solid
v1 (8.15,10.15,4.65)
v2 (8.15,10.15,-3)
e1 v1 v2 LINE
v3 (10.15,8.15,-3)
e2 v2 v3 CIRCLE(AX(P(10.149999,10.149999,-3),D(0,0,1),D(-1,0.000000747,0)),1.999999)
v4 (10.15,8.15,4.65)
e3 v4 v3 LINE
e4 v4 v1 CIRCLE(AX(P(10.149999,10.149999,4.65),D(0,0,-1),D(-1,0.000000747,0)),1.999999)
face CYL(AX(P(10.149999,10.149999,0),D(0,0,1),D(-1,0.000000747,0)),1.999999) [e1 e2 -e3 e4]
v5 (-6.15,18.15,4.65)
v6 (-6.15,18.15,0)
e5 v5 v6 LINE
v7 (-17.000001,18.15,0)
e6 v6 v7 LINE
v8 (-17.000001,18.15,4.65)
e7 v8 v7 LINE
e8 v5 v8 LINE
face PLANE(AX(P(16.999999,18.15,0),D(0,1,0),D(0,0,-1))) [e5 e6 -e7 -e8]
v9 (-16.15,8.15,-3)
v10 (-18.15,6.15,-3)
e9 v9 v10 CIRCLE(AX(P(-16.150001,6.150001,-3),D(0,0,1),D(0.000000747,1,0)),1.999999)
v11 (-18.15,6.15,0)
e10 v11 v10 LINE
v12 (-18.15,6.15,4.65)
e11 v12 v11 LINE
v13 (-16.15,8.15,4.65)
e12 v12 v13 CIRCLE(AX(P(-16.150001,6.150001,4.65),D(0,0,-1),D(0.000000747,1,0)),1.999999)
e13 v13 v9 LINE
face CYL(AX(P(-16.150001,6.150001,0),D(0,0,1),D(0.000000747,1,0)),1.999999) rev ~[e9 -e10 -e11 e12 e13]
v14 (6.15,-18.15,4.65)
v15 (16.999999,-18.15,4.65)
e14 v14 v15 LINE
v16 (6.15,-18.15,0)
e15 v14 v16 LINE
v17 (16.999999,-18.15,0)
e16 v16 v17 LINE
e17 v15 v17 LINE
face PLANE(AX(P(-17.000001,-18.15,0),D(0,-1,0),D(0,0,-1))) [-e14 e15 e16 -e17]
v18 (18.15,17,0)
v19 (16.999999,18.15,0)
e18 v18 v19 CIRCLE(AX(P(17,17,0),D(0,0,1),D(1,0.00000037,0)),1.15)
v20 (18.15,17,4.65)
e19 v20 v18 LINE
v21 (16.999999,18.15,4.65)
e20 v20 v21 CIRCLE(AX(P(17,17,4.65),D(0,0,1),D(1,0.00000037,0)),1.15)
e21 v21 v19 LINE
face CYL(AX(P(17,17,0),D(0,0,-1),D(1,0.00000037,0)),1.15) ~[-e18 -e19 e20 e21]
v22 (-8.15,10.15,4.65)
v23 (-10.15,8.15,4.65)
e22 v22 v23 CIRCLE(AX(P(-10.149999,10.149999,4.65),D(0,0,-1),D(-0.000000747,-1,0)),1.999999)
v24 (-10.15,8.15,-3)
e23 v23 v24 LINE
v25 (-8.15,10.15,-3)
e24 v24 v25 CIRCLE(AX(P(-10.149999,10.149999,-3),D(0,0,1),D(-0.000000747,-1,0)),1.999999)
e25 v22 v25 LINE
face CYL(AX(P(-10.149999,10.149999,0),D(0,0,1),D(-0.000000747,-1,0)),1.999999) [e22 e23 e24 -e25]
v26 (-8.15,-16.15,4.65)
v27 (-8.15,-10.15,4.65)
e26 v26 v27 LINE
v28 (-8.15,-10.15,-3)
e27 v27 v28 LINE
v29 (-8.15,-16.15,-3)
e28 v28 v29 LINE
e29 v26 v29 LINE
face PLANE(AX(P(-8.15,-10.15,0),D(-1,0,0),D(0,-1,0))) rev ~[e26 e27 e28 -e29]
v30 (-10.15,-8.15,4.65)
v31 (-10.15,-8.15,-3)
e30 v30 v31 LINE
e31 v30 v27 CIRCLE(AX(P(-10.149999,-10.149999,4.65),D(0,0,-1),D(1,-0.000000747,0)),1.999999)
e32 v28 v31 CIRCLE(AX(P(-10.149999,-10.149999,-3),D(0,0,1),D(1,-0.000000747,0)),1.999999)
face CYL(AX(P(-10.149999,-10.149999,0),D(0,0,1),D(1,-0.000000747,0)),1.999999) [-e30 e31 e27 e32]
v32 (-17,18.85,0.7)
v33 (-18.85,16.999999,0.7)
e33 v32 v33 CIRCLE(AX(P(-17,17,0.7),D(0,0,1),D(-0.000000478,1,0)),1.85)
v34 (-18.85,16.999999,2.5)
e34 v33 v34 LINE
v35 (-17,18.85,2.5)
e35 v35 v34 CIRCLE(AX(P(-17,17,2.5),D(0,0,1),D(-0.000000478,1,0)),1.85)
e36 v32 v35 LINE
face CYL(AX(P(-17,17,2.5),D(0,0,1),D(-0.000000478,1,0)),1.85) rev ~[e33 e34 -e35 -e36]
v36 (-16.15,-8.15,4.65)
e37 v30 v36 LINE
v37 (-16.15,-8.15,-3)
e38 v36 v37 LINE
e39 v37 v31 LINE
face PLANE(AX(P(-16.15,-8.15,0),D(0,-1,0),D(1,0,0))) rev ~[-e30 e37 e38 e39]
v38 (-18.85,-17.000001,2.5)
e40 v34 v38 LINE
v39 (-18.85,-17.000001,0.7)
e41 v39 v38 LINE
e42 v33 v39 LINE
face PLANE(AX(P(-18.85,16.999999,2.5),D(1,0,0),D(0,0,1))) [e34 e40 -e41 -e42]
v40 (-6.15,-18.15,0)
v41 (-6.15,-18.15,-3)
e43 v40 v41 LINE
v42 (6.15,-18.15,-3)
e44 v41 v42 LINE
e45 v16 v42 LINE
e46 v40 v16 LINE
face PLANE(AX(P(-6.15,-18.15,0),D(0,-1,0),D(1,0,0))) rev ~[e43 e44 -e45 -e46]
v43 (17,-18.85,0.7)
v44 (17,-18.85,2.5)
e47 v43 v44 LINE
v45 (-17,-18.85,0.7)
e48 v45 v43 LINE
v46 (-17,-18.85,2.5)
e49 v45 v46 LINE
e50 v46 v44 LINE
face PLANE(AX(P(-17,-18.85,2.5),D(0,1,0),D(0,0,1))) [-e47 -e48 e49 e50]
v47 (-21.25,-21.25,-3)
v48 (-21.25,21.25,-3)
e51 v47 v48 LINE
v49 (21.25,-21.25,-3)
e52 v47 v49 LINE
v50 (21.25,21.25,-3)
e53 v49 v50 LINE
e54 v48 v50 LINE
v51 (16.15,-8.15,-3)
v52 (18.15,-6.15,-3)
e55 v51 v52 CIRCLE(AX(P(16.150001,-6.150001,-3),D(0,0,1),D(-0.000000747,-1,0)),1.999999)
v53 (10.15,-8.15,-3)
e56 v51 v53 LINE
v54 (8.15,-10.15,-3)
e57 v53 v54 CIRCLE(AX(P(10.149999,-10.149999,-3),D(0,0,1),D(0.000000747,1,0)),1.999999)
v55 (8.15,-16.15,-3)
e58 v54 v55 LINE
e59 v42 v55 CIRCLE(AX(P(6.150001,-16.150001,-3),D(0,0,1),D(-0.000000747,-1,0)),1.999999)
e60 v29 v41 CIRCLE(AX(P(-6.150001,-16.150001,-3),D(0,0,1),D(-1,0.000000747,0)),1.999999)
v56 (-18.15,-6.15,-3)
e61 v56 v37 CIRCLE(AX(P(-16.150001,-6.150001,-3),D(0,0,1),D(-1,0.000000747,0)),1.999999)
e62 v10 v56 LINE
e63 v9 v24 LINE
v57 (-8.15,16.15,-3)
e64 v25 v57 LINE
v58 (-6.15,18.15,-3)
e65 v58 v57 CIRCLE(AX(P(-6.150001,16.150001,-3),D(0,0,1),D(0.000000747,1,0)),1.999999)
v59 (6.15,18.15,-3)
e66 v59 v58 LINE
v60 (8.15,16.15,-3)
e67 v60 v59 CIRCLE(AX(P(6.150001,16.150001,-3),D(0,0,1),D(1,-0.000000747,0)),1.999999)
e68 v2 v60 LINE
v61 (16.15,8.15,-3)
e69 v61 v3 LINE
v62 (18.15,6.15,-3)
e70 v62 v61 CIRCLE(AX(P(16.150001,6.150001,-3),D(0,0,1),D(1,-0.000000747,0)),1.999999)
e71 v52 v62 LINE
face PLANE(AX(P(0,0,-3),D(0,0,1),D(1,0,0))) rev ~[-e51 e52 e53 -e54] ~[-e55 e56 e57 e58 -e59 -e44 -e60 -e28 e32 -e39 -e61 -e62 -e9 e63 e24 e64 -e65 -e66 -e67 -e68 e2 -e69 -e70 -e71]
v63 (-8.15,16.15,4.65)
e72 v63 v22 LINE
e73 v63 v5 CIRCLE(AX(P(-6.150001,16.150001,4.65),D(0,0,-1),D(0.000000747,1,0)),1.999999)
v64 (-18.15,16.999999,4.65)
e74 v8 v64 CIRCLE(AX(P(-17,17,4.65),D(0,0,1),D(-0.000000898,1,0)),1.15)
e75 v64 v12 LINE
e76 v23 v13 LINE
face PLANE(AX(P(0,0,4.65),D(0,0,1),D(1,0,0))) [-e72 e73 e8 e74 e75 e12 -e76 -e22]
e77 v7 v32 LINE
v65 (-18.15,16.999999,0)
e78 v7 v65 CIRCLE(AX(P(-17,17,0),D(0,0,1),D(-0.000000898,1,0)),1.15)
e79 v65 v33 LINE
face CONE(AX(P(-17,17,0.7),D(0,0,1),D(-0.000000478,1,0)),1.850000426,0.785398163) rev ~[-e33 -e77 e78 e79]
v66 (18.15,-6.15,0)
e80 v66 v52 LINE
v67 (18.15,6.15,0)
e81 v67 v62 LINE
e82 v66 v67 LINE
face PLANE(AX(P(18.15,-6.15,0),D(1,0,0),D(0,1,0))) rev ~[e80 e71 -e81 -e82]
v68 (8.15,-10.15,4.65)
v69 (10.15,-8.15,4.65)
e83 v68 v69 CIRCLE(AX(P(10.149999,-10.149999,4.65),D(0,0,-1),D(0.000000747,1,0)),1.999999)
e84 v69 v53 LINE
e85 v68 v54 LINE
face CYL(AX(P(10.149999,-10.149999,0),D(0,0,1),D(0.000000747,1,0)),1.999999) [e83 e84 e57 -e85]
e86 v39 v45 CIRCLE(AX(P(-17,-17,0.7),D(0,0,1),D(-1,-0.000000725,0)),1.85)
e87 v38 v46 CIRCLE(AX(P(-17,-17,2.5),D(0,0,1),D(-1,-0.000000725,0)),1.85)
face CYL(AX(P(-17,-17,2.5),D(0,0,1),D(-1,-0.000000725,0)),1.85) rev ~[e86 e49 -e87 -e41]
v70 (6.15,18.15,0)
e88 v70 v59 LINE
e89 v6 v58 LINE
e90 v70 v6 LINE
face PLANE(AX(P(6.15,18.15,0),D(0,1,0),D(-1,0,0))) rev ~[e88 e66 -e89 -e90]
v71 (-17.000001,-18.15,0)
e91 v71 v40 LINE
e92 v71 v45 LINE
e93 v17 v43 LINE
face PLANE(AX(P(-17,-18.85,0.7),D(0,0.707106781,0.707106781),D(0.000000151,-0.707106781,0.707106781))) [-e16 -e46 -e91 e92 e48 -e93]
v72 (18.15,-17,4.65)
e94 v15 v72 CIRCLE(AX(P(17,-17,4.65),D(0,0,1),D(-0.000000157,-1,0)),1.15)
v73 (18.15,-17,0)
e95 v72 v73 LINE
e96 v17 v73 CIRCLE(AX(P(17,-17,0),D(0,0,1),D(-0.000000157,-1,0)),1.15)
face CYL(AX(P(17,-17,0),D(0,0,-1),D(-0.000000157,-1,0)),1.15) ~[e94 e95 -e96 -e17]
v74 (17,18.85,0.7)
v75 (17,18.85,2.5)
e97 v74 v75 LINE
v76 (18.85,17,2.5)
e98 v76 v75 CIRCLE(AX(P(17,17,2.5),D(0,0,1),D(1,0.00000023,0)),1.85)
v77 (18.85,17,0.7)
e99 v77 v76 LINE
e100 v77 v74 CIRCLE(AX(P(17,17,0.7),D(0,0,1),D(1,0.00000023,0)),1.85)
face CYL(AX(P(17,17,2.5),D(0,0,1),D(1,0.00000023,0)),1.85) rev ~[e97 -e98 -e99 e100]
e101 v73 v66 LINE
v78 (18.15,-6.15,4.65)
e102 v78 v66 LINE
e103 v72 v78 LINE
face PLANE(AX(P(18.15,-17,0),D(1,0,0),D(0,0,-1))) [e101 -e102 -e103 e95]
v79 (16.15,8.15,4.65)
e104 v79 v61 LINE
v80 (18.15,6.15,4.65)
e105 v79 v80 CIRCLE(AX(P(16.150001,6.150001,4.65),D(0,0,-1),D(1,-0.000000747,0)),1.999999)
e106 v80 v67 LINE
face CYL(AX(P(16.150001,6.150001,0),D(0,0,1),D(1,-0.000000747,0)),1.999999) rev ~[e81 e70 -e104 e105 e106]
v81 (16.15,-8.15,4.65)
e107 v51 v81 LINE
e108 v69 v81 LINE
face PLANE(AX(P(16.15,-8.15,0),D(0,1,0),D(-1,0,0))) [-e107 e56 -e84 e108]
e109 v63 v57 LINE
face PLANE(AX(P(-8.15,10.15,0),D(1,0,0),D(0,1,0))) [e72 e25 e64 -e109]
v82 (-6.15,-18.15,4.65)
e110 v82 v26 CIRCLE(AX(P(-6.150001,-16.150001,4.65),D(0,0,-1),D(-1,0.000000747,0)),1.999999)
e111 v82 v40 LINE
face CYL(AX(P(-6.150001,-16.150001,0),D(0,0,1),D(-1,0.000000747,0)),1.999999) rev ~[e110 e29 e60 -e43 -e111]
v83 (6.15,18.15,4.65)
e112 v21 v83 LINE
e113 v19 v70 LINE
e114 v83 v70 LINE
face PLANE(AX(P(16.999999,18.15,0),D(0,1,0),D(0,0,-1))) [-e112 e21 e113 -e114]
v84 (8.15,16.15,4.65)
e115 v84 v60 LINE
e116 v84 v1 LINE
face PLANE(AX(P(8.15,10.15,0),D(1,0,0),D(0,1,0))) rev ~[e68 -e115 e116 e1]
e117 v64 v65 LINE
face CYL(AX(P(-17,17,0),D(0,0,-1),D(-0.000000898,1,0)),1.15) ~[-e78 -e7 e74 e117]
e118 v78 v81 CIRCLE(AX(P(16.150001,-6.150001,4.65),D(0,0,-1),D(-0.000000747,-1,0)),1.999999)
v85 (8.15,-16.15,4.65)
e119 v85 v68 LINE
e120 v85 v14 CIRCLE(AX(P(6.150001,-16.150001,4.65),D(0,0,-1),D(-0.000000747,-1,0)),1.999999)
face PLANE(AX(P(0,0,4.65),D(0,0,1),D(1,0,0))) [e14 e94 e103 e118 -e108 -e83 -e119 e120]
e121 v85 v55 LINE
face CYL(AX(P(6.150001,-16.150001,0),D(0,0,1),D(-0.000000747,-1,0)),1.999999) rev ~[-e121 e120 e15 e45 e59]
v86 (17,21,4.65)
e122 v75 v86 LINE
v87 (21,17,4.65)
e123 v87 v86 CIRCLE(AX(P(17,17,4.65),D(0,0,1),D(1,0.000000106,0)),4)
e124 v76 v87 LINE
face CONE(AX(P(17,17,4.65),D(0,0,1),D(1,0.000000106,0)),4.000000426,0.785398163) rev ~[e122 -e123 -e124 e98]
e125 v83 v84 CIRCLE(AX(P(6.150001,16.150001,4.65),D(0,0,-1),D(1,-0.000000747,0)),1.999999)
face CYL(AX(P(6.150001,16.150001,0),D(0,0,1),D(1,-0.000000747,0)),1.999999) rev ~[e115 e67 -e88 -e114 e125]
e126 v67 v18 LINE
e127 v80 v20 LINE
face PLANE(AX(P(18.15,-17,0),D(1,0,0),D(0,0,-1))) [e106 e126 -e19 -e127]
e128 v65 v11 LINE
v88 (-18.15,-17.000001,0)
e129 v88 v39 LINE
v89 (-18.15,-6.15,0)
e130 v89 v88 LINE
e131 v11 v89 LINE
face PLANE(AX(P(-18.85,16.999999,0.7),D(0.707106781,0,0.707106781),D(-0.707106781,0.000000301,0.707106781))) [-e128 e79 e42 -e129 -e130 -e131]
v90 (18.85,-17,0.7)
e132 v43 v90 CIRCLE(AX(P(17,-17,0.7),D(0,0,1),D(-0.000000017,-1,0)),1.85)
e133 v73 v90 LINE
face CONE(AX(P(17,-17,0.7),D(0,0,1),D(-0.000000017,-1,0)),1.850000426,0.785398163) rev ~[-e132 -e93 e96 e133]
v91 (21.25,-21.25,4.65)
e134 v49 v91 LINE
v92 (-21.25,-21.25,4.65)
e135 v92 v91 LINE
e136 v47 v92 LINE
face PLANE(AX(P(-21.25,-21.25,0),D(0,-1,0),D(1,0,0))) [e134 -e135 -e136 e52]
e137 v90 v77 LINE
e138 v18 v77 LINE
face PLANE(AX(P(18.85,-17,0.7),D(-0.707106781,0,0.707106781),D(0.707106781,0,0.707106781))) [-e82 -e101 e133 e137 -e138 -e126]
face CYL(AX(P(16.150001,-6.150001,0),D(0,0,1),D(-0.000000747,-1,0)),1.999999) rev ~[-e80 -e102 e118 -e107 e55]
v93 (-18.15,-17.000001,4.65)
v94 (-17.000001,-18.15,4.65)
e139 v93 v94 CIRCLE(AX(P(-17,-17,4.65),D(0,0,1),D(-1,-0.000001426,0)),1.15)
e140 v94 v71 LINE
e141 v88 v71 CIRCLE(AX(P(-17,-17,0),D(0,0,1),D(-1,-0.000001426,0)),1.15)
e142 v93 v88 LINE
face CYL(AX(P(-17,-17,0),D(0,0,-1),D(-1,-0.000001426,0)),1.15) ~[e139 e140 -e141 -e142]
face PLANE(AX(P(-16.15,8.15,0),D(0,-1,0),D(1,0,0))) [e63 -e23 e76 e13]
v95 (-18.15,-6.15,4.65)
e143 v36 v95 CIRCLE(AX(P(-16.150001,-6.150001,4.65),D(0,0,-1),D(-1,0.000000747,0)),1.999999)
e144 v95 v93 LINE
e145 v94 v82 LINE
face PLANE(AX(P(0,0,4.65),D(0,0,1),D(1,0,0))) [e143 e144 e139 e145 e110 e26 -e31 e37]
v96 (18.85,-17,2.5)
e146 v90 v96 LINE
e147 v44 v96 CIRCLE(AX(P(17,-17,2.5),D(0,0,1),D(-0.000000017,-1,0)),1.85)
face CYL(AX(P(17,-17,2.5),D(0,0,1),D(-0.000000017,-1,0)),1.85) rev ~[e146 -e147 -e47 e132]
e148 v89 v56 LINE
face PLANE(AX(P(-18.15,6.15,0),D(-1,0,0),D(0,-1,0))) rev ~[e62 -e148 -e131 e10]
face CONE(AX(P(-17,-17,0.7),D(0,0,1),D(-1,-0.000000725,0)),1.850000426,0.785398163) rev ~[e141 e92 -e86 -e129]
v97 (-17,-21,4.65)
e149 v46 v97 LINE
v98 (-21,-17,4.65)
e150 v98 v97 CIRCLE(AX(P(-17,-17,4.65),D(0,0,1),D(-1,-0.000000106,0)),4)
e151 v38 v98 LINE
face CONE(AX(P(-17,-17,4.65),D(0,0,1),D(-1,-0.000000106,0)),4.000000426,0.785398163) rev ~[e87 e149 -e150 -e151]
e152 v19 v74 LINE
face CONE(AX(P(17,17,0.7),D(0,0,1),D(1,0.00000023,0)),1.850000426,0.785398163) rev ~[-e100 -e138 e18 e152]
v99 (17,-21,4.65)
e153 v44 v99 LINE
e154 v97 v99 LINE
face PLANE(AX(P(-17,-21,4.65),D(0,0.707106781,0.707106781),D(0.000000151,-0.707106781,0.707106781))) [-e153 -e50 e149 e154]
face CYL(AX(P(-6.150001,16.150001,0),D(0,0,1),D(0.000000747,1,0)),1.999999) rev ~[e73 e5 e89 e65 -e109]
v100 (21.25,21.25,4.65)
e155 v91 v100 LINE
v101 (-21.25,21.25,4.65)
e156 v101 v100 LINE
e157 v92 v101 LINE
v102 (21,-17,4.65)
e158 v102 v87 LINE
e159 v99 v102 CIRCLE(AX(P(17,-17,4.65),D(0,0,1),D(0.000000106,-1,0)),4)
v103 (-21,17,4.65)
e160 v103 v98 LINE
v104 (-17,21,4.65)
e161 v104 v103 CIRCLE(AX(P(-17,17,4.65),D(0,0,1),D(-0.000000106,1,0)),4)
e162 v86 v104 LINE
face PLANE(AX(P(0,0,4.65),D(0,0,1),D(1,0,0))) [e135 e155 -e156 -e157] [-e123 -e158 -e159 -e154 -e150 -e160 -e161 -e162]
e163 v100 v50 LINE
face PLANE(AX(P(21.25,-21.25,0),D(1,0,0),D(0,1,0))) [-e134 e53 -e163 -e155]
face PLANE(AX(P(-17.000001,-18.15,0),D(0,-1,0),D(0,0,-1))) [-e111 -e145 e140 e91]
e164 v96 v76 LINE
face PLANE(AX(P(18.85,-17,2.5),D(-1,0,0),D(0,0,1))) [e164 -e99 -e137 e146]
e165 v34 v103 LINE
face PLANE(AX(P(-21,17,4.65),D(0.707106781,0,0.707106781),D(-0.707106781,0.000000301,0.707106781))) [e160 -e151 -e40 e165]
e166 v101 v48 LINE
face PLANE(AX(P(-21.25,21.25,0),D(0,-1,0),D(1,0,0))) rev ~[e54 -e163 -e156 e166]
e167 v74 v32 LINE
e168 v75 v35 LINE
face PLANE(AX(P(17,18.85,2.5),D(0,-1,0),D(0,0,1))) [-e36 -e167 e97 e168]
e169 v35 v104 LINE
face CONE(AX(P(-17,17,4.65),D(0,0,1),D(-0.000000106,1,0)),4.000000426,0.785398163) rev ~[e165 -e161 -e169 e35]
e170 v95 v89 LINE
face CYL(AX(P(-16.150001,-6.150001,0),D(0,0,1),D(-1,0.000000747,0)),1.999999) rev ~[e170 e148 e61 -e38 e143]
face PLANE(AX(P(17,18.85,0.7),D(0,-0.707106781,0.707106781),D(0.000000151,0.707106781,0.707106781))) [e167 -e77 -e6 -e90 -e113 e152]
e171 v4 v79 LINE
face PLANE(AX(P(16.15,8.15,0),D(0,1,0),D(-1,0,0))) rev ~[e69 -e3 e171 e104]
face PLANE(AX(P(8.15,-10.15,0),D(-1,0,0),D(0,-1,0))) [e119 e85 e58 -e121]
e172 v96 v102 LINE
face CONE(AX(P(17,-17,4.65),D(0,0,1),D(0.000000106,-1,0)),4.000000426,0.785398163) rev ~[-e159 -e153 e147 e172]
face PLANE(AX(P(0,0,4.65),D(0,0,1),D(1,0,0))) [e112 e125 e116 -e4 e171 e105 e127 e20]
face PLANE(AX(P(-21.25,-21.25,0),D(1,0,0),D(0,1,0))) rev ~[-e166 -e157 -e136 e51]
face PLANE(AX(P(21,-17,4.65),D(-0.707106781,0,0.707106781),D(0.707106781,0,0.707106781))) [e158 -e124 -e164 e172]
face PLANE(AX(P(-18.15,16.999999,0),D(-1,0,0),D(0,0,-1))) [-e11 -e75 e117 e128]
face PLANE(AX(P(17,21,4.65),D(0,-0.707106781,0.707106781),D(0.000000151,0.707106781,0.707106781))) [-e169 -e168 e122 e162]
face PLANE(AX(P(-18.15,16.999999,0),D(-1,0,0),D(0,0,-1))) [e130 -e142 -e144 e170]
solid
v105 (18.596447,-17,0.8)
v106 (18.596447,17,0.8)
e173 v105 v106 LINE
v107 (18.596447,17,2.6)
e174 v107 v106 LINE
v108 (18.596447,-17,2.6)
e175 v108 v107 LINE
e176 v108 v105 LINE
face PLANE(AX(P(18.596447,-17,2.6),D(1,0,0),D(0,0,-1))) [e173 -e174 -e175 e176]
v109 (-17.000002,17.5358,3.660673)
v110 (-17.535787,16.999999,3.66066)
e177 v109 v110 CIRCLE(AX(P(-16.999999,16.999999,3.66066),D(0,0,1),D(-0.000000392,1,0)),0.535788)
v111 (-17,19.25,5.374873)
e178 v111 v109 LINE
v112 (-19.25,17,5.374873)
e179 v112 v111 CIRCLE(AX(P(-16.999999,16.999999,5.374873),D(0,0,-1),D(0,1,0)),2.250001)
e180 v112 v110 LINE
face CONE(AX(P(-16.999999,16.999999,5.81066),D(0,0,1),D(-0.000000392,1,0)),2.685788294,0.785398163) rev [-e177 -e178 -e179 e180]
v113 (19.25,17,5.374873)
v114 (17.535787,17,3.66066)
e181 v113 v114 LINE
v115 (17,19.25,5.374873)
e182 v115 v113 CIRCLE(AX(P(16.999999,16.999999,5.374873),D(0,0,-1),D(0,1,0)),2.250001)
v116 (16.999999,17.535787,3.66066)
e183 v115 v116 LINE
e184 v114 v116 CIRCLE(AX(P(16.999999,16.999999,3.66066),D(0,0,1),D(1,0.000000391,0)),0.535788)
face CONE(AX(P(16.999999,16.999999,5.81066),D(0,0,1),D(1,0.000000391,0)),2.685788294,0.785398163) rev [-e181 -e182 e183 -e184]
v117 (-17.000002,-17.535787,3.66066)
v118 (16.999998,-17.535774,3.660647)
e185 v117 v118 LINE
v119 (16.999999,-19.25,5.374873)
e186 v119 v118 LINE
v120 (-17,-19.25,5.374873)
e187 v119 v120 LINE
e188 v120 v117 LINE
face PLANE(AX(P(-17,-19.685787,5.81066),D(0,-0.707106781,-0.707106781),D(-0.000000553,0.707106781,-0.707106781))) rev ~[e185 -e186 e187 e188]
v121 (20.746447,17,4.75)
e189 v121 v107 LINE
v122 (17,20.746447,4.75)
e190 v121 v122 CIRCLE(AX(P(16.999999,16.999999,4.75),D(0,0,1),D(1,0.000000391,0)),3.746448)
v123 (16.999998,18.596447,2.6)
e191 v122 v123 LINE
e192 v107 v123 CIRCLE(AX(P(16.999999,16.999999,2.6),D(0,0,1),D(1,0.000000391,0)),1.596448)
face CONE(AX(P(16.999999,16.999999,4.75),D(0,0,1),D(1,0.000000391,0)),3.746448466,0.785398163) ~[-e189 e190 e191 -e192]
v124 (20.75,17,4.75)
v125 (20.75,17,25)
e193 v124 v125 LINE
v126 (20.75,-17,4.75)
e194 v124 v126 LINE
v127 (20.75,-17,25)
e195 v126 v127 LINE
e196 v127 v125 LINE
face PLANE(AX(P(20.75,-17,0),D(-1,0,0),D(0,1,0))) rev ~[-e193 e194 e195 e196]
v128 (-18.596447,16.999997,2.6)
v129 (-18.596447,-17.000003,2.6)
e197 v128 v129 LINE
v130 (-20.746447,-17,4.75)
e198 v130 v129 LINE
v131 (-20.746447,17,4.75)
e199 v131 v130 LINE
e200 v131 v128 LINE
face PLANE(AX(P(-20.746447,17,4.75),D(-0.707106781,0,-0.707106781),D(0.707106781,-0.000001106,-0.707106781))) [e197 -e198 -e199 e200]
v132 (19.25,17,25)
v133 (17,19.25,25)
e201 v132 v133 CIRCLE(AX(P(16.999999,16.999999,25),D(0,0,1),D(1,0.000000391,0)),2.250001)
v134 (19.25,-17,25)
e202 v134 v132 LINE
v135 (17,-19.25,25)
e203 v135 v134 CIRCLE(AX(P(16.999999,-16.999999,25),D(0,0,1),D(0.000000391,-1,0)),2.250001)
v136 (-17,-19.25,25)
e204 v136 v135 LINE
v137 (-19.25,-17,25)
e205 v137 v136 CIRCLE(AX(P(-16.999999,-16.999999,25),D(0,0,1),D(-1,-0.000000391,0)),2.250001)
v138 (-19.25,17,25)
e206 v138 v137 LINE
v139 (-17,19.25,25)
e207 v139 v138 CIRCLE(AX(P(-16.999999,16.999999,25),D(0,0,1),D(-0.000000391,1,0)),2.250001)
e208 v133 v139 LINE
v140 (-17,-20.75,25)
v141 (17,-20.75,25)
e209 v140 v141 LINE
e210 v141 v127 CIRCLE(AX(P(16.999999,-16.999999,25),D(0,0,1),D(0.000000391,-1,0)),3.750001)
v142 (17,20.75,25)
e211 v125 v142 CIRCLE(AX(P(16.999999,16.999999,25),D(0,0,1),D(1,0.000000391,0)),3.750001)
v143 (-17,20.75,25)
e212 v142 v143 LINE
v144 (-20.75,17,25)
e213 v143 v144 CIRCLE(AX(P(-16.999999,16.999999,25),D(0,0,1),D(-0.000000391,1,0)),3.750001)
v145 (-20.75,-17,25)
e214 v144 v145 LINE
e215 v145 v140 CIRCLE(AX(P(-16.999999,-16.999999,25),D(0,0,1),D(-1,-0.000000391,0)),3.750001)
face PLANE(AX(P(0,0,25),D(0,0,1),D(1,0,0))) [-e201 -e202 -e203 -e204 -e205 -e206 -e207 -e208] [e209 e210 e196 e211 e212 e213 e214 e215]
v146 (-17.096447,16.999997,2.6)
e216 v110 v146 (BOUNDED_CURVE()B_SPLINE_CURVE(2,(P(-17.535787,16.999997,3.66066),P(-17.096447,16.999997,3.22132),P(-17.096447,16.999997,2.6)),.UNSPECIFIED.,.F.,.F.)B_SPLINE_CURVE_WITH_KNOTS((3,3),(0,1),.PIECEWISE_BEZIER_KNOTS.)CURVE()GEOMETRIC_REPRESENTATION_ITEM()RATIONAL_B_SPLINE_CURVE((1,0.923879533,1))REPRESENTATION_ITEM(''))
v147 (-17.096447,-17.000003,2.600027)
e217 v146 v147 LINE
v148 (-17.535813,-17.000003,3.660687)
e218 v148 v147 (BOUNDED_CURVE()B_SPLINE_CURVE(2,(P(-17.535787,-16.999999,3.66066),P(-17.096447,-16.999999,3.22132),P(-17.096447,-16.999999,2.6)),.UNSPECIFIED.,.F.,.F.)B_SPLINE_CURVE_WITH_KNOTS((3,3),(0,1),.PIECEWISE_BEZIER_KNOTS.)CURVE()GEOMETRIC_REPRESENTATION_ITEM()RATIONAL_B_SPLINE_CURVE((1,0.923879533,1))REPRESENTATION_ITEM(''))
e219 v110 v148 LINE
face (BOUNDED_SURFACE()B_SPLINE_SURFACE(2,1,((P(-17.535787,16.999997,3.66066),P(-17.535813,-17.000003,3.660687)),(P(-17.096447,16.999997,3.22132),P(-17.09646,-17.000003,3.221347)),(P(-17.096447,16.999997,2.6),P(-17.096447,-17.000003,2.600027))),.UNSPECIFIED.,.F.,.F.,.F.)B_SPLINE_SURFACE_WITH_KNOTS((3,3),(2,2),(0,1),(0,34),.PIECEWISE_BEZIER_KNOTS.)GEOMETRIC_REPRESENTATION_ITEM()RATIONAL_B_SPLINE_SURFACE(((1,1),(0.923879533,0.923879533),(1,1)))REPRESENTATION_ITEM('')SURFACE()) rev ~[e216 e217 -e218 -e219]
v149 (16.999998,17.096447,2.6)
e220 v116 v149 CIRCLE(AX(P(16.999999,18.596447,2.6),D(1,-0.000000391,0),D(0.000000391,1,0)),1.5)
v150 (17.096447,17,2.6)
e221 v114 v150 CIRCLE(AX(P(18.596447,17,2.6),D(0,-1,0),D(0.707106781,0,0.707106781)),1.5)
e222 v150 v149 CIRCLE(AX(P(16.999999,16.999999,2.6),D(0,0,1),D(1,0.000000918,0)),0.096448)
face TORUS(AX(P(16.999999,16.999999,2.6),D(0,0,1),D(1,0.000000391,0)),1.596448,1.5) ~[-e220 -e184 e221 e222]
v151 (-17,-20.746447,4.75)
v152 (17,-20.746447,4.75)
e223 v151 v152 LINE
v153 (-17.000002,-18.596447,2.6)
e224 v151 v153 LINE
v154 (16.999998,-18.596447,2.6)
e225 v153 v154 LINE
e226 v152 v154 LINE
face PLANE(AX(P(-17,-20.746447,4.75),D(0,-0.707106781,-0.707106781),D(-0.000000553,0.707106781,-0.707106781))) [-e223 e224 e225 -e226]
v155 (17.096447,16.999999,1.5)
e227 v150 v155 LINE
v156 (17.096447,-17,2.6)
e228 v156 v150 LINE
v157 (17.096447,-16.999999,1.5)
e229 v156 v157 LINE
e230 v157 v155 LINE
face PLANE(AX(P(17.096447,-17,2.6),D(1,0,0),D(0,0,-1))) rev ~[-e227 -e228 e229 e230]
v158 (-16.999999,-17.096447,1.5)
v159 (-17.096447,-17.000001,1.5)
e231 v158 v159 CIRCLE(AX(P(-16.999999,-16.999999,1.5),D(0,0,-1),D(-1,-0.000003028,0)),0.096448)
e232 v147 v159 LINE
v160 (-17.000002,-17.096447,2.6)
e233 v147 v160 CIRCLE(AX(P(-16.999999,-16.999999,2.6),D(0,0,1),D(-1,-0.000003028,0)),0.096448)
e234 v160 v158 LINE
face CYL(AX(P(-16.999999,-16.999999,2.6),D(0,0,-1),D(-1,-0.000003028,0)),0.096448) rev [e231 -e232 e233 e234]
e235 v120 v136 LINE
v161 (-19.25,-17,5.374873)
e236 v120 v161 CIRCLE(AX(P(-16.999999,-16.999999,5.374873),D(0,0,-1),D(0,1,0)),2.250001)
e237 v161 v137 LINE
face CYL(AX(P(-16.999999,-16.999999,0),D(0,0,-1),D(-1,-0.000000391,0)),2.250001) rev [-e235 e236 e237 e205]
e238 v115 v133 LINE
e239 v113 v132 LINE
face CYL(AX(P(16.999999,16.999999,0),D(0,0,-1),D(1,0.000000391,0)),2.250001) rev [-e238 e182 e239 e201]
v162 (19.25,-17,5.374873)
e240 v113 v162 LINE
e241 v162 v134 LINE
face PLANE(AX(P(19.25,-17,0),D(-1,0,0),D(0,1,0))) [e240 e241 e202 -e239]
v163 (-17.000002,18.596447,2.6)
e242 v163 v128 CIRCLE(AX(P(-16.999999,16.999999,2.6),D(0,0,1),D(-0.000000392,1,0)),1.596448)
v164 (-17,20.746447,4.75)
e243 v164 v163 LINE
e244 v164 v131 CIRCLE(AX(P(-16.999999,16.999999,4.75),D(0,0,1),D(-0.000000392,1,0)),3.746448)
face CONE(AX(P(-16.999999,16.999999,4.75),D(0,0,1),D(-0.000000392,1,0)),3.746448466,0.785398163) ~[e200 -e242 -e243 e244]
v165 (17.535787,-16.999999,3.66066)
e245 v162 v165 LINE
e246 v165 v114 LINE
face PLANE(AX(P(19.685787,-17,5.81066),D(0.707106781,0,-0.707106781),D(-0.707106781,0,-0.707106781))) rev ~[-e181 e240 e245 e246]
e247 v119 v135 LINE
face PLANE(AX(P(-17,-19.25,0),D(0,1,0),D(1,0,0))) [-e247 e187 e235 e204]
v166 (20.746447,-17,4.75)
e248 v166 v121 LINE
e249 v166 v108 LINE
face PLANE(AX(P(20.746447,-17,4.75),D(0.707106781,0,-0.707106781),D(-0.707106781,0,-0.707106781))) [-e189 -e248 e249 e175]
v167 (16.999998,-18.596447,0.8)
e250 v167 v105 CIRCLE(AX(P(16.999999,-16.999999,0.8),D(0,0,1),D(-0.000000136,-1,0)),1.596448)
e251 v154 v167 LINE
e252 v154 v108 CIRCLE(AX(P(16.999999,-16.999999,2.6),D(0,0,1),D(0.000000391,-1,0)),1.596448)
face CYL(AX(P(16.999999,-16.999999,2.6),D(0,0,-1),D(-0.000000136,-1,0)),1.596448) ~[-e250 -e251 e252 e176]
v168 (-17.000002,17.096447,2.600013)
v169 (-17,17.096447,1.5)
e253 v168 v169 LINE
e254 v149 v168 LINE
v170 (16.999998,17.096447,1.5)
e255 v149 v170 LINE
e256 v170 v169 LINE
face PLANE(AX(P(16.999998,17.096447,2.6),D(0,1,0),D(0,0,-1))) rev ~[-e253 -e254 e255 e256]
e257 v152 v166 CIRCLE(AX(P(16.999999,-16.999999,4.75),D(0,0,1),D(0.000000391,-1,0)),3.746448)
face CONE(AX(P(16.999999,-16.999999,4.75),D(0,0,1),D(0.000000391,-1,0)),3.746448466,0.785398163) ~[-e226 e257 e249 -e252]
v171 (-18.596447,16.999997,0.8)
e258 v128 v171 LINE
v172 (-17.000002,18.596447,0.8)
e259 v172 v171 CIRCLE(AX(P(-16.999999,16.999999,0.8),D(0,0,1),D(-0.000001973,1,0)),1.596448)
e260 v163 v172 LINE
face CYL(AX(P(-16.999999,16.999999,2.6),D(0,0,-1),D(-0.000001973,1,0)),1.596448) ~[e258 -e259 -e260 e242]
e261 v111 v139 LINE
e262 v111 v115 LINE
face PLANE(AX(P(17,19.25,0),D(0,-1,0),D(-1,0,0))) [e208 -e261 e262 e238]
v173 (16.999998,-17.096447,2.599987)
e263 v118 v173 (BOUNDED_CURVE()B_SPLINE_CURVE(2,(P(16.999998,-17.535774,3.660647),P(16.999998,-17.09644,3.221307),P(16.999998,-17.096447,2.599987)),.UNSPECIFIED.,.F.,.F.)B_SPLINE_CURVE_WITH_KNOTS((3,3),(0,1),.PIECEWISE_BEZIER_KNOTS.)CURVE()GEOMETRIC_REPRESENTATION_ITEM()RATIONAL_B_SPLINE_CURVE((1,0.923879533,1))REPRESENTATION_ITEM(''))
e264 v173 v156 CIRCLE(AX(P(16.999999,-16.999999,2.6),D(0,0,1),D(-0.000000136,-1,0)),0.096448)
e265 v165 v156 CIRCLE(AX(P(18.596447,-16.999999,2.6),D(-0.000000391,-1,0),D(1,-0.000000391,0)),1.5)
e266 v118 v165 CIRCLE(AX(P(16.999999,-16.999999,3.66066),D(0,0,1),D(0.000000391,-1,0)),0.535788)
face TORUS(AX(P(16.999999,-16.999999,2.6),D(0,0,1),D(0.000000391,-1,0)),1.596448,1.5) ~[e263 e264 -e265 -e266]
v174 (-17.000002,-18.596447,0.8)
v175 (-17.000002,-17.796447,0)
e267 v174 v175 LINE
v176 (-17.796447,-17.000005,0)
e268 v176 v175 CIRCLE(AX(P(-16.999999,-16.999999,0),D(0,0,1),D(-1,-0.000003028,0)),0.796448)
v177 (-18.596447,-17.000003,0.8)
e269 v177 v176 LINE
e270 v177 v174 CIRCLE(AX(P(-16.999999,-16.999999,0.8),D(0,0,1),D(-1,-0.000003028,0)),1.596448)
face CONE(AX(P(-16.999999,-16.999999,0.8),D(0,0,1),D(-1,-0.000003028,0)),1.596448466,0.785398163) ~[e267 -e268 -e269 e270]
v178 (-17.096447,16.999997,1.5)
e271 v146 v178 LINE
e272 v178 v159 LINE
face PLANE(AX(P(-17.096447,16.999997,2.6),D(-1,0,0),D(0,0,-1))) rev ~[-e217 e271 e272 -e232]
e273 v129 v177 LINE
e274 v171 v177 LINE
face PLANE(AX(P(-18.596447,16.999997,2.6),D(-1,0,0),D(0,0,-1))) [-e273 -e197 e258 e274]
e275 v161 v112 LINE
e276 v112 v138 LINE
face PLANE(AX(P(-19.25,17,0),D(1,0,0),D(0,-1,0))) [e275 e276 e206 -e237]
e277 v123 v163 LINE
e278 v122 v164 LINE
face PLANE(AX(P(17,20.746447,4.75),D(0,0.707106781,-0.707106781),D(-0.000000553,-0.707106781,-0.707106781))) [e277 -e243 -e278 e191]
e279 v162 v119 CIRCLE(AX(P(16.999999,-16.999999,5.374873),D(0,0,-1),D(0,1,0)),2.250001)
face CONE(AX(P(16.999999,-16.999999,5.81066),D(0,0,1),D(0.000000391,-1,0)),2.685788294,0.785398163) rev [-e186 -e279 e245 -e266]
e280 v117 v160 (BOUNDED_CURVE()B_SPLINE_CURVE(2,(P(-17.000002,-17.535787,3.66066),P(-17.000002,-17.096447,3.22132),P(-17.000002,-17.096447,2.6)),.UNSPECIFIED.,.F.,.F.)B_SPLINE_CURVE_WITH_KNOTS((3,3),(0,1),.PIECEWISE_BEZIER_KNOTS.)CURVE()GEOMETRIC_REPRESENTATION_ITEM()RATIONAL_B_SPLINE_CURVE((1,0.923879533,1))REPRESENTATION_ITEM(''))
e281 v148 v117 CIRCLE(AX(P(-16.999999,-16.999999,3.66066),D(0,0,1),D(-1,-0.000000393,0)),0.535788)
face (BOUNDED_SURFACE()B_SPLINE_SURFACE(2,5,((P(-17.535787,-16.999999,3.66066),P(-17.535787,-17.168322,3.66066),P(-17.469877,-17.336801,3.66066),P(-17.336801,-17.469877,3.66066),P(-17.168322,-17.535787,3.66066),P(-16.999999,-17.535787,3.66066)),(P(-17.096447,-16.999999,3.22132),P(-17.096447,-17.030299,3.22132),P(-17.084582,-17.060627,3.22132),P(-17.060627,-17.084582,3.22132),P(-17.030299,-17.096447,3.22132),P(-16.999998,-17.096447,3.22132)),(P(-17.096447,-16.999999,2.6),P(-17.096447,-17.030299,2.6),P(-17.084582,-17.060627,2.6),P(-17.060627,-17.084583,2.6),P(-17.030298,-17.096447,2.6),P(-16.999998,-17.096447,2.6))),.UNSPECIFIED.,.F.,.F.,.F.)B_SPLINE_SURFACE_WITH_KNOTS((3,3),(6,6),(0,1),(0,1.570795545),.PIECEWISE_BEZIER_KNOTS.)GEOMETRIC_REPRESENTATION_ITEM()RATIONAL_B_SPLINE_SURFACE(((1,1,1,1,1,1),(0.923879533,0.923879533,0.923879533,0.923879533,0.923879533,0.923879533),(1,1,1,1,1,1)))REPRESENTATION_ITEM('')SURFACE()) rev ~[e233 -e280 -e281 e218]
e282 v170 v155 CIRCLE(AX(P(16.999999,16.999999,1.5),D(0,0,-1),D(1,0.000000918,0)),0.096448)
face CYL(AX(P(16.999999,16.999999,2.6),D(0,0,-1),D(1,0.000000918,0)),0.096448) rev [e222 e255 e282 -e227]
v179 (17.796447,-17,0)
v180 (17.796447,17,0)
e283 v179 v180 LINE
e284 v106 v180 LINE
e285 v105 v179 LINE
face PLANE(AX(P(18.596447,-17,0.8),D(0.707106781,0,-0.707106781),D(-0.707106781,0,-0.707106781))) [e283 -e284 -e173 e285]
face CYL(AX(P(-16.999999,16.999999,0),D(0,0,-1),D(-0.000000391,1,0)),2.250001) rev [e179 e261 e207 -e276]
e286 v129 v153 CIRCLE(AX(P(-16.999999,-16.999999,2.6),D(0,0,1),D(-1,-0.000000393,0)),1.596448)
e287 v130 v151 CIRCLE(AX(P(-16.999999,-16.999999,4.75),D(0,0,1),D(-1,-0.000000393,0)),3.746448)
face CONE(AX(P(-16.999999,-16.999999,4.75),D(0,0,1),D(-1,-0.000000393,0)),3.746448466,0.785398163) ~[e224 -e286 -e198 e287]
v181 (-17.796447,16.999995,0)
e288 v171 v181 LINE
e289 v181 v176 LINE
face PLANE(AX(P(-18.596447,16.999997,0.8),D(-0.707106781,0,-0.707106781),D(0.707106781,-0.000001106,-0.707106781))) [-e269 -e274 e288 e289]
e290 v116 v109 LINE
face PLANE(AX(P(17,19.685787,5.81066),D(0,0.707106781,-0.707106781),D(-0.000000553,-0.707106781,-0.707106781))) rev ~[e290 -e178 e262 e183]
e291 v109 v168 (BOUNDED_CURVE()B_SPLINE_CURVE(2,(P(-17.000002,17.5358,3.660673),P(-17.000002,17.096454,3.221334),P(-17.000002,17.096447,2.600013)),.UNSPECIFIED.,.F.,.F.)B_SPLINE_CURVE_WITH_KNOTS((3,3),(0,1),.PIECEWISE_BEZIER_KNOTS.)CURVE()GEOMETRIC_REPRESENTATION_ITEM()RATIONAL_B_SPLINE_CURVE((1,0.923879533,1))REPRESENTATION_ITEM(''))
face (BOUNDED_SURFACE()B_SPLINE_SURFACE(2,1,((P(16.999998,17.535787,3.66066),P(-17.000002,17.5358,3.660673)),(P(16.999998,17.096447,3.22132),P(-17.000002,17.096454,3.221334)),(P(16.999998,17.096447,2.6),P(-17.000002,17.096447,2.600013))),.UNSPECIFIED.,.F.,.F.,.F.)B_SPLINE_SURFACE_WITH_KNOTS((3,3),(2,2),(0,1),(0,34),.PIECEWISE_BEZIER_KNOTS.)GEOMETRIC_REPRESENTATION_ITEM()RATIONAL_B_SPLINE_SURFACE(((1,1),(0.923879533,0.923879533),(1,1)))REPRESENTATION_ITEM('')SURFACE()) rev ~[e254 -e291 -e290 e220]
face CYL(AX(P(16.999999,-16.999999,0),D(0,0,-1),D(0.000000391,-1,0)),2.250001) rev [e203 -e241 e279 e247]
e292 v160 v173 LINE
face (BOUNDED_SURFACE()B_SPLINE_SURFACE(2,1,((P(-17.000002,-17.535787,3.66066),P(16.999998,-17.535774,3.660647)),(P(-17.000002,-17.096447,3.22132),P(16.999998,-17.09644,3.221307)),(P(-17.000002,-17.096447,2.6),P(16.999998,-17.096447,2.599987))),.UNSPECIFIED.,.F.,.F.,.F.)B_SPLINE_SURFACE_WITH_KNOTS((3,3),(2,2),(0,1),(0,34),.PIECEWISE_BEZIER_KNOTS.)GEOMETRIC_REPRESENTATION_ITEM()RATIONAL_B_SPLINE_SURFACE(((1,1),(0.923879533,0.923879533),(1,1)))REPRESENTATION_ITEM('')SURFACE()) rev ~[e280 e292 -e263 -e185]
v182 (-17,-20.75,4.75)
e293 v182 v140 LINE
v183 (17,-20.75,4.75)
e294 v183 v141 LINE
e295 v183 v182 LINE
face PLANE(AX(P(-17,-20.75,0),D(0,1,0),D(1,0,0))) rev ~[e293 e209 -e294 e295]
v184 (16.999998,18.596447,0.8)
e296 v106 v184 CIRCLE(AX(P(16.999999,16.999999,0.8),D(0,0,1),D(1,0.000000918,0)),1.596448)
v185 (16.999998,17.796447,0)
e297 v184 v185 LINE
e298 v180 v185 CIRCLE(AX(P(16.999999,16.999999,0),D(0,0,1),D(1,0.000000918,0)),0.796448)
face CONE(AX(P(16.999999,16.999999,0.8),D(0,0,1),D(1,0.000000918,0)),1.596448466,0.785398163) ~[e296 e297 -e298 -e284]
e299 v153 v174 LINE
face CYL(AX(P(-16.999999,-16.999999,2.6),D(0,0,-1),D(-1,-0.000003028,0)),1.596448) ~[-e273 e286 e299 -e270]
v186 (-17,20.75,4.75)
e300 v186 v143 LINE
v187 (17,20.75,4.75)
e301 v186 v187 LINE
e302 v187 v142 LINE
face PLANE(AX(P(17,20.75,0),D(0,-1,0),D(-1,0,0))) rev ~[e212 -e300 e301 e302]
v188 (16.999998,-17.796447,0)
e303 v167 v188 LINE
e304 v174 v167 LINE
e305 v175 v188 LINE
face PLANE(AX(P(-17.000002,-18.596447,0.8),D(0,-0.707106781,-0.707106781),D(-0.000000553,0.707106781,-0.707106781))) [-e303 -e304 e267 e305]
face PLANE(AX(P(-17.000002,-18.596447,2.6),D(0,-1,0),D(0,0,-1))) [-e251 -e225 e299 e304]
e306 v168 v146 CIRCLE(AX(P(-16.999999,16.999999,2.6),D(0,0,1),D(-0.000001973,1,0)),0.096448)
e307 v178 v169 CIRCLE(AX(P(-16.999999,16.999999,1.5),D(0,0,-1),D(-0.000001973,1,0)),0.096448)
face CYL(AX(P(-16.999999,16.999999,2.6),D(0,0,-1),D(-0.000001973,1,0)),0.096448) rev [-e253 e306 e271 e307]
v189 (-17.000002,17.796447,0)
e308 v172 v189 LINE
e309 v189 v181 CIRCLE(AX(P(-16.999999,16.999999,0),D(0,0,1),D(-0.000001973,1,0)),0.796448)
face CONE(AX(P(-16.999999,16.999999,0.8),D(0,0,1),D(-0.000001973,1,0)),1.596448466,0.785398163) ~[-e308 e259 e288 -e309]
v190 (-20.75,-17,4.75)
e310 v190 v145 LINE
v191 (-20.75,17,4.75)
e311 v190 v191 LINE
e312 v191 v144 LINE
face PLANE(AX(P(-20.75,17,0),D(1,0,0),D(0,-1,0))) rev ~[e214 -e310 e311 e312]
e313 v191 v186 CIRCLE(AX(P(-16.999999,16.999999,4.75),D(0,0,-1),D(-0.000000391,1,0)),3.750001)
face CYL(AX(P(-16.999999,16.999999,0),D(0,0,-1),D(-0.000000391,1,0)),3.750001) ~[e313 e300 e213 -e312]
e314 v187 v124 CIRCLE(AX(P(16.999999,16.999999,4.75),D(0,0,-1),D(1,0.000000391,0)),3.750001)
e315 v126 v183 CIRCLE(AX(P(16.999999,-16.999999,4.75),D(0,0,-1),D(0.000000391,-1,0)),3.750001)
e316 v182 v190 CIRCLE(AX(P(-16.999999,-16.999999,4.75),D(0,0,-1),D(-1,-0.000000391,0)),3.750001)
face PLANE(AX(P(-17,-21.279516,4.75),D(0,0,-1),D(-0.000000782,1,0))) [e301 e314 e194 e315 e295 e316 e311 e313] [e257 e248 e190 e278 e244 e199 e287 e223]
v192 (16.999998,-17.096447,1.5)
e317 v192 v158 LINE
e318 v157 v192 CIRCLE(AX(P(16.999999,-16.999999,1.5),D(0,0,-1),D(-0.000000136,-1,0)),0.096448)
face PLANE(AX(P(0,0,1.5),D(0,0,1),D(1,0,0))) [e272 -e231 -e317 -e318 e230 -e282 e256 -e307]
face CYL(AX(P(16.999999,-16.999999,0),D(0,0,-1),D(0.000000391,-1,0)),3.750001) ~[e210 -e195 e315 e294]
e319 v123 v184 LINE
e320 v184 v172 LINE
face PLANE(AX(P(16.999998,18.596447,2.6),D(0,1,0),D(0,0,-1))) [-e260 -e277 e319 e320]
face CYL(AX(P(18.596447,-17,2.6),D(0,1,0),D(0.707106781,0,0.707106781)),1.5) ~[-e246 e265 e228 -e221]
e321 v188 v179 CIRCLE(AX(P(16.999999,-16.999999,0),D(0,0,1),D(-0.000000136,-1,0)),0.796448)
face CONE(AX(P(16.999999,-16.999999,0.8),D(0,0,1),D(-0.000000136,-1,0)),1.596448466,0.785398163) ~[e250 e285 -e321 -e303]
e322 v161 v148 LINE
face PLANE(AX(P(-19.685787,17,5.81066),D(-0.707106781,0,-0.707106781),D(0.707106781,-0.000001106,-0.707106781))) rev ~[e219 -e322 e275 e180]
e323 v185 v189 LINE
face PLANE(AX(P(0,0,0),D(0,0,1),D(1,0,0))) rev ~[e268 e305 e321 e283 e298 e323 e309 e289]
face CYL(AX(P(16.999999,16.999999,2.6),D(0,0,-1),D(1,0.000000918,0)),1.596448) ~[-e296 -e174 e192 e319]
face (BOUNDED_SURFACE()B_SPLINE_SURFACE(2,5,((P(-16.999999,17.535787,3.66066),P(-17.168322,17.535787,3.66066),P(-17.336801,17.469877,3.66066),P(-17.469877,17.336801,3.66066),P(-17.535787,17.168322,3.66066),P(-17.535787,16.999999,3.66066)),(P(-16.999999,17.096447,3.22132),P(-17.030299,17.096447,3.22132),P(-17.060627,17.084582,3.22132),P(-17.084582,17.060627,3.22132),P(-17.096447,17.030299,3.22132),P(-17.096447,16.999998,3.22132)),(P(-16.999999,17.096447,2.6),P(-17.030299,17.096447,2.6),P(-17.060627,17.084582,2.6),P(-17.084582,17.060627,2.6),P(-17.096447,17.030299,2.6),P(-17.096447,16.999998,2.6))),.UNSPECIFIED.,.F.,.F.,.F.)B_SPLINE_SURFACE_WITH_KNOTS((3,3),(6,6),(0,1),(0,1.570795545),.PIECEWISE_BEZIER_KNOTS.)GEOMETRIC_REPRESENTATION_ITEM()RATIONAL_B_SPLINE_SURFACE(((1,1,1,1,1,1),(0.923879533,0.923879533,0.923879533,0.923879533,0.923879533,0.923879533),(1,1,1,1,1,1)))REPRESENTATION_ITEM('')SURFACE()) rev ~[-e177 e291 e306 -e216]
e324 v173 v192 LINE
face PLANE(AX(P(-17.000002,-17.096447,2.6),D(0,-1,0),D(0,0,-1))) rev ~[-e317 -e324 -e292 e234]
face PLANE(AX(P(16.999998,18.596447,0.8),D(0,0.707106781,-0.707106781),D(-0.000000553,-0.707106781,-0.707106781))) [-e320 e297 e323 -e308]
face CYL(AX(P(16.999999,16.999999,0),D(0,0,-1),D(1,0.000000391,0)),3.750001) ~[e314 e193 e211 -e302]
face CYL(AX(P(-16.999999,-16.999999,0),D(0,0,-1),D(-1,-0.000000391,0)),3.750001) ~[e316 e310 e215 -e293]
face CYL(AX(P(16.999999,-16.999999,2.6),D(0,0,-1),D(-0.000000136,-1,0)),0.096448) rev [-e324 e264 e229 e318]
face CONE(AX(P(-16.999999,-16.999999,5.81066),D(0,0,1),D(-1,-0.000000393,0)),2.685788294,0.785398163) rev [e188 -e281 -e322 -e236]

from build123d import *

# Parameters (mm, degrees)
SKETCH002_W       = 42.5
SKETCH002_H       = 42.5
PAD_DEPTH         = 4.65
PAD_DEPTH_BACK    = 3
POCKET_DEPTH      = 124.178927
POCKET_DEPTH_BACK = 125.828927
PAD001_DEPTH      = 25
THICKNESS_T       = -1.5


with BuildPart() as body:
    # Sketch002 → Pad (new body, two sides)
    with BuildSketch(Plane.XY) as pad_sk:
        Rectangle(SKETCH002_W, SKETCH002_H)
    extrude(amount=PAD_DEPTH)
    extrude(pad_sk.sketch, amount=-PAD_DEPTH_BACK)

    # Sketch003 → Pocket (cut, two sides)
    with BuildSketch(Plane.XY) as pocket_sk:
        with BuildLine():
            Line((16.15, -8.15), (10.15, -8.15))
            ThreePointArc((10.15, -8.15), (8.735786, -8.735786), (8.15, -10.15))
            Line((8.15, -10.15), (8.15, -16.15))
            ThreePointArc((6.15, -18.15), (7.564214, -17.564214), (8.15, -16.15))
            Line((6.15, -18.15), (0, -18.15))
            Line((-6.15, -18.15), (0, -18.15))
            ThreePointArc((-8.15, -16.15), (-7.564214, -17.564214), (-6.15, -18.15))
            Line((-8.15, -10.15), (-8.15, -16.15))
            ThreePointArc((-8.15, -10.15), (-8.735786, -8.735786), (-10.15, -8.15))
            Line((-16.15, -8.15), (-10.15, -8.15))
            ThreePointArc((-18.15, -6.15), (-17.564214, -7.564214), (-16.15, -8.15))
            Line((-18.15, 0), (-18.15, -6.15))
            Line((-18.15, 0), (-18.15, 6.15))
            ThreePointArc((-16.15, 8.15), (-17.564214, 7.564214), (-18.15, 6.15))
            Line((-16.15, 8.15), (-10.15, 8.15))
            ThreePointArc((-10.15, 8.15), (-8.735786, 8.735786), (-8.15, 10.15))
            Line((-8.15, 10.15), (-8.15, 16.15))
            ThreePointArc((-6.15, 18.15), (-7.564214, 17.564214), (-8.15, 16.15))
            Line((-6.15, 18.15), (0, 18.15))
            Line((6.15, 18.15), (0, 18.15))
            ThreePointArc((8.15, 16.15), (7.564214, 17.564214), (6.15, 18.15))
            Line((8.15, 10.15), (8.15, 16.15))
            ThreePointArc((8.15, 10.15), (8.735786, 8.735786), (10.15, 8.15))
            Line((16.15, 8.15), (10.15, 8.15))
            ThreePointArc((18.15, 6.15), (17.564214, 7.564214), (16.15, 8.15))
            Line((18.15, 0), (18.15, 6.15))
            Line((18.15, 0), (18.15, -6.15))
            ThreePointArc((16.15, -8.15), (17.564214, -7.564214), (18.15, -6.15))
        make_face()
    extrude(amount=-POCKET_DEPTH, mode=Mode.SUBTRACT)
    extrude(pocket_sk.sketch, amount=POCKET_DEPTH_BACK, mode=Mode.SUBTRACT)

    # SubtractivePipe: sweep along a path in Sketch
    with BuildLine(Plane.XY) as subtractivepipe_path:
        Line((-17, -21), (17, -21))
        ThreePointArc((17, -21), (19.828427, -19.828427), (21, -17))
        Line((21, -17), (21, 17))
        ThreePointArc((21, 17), (19.828427, 19.828427), (17, 21))
        Line((17, 21), (-17, 21))
        ThreePointArc((-17, 21), (-19.828427, 19.828427), (-21, 17))
        Line((-21, 17), (-21, -17))
        ThreePointArc((-21, -17), (-19.828427, -19.828427), (-17, -21))
    # Sketch001 → SubtractivePipe (sweep, cut)
    with BuildSketch(Plane.XZ):
        Polygon((18.15, 4.65), (21, 4.65), (18.85, 2.5), (18.85, 0.7), (18.15, 0), align=None)
    sweep(path=subtractivepipe_path.line, mode=Mode.SUBTRACT)


with BuildPart() as body001:
    # Sketch005 → Pad001 (new body)
    with BuildSketch(Plane.XY):
        with BuildLine():
            Line((-17, -20.75), (17, -20.75))
            ThreePointArc((17, -20.75), (19.65165, -19.65165), (20.75, -17))
            Line((20.75, -17), (20.75, 17))
            ThreePointArc((20.75, 17), (19.65165, 19.65165), (17, 20.75))
            Line((17, 20.75), (-17, 20.75))
            ThreePointArc((-17, 20.75), (-19.65165, 19.65165), (-20.75, 17))
            Line((-20.75, 17), (-20.75, -17))
            ThreePointArc((-20.75, -17), (-19.65165, -19.65165), (-17, -20.75))
        make_face()
    extrude(amount=PAD001_DEPTH)

    # SubtractivePipe001: sweep along a path in Sketch005
    with BuildLine(Plane.XY) as subtractivepipe001_path:
        Line((-17, -20.75), (17, -20.75))
        ThreePointArc((17, -20.75), (19.65165, -19.65165), (20.75, -17))
        Line((20.75, -17), (20.75, 17))
        ThreePointArc((20.75, 17), (19.65165, 19.65165), (17, 20.75))
        Line((17, 20.75), (-17, 20.75))
        ThreePointArc((-17, 20.75), (-19.65165, 19.65165), (-20.75, 17))
        Line((-20.75, 17), (-20.75, -17))
        ThreePointArc((-20.75, -17), (-19.65165, -19.65165), (-17, -20.75))
    # Sketch006 → SubtractivePipe001 (sweep, cut)
    with BuildSketch(Plane.XZ):
        Polygon((20.746447, 4.75), (18.596447, 2.6), (18.596447, 0.8), (17.796447, 0), (21.279516, 0), (21.279516, 4.75), align=None)
    sweep(path=subtractivepipe001_path.line, mode=Mode.SUBTRACT)

    # Thickness
    thickness_openings = [body001.faces().sort_by_distance(p)[0] for p in [
        (0, 0, 25),
    ]]
    offset(amount=THICKNESS_T, openings=thickness_openings)


solid = Compound([body.part, body001.part])
